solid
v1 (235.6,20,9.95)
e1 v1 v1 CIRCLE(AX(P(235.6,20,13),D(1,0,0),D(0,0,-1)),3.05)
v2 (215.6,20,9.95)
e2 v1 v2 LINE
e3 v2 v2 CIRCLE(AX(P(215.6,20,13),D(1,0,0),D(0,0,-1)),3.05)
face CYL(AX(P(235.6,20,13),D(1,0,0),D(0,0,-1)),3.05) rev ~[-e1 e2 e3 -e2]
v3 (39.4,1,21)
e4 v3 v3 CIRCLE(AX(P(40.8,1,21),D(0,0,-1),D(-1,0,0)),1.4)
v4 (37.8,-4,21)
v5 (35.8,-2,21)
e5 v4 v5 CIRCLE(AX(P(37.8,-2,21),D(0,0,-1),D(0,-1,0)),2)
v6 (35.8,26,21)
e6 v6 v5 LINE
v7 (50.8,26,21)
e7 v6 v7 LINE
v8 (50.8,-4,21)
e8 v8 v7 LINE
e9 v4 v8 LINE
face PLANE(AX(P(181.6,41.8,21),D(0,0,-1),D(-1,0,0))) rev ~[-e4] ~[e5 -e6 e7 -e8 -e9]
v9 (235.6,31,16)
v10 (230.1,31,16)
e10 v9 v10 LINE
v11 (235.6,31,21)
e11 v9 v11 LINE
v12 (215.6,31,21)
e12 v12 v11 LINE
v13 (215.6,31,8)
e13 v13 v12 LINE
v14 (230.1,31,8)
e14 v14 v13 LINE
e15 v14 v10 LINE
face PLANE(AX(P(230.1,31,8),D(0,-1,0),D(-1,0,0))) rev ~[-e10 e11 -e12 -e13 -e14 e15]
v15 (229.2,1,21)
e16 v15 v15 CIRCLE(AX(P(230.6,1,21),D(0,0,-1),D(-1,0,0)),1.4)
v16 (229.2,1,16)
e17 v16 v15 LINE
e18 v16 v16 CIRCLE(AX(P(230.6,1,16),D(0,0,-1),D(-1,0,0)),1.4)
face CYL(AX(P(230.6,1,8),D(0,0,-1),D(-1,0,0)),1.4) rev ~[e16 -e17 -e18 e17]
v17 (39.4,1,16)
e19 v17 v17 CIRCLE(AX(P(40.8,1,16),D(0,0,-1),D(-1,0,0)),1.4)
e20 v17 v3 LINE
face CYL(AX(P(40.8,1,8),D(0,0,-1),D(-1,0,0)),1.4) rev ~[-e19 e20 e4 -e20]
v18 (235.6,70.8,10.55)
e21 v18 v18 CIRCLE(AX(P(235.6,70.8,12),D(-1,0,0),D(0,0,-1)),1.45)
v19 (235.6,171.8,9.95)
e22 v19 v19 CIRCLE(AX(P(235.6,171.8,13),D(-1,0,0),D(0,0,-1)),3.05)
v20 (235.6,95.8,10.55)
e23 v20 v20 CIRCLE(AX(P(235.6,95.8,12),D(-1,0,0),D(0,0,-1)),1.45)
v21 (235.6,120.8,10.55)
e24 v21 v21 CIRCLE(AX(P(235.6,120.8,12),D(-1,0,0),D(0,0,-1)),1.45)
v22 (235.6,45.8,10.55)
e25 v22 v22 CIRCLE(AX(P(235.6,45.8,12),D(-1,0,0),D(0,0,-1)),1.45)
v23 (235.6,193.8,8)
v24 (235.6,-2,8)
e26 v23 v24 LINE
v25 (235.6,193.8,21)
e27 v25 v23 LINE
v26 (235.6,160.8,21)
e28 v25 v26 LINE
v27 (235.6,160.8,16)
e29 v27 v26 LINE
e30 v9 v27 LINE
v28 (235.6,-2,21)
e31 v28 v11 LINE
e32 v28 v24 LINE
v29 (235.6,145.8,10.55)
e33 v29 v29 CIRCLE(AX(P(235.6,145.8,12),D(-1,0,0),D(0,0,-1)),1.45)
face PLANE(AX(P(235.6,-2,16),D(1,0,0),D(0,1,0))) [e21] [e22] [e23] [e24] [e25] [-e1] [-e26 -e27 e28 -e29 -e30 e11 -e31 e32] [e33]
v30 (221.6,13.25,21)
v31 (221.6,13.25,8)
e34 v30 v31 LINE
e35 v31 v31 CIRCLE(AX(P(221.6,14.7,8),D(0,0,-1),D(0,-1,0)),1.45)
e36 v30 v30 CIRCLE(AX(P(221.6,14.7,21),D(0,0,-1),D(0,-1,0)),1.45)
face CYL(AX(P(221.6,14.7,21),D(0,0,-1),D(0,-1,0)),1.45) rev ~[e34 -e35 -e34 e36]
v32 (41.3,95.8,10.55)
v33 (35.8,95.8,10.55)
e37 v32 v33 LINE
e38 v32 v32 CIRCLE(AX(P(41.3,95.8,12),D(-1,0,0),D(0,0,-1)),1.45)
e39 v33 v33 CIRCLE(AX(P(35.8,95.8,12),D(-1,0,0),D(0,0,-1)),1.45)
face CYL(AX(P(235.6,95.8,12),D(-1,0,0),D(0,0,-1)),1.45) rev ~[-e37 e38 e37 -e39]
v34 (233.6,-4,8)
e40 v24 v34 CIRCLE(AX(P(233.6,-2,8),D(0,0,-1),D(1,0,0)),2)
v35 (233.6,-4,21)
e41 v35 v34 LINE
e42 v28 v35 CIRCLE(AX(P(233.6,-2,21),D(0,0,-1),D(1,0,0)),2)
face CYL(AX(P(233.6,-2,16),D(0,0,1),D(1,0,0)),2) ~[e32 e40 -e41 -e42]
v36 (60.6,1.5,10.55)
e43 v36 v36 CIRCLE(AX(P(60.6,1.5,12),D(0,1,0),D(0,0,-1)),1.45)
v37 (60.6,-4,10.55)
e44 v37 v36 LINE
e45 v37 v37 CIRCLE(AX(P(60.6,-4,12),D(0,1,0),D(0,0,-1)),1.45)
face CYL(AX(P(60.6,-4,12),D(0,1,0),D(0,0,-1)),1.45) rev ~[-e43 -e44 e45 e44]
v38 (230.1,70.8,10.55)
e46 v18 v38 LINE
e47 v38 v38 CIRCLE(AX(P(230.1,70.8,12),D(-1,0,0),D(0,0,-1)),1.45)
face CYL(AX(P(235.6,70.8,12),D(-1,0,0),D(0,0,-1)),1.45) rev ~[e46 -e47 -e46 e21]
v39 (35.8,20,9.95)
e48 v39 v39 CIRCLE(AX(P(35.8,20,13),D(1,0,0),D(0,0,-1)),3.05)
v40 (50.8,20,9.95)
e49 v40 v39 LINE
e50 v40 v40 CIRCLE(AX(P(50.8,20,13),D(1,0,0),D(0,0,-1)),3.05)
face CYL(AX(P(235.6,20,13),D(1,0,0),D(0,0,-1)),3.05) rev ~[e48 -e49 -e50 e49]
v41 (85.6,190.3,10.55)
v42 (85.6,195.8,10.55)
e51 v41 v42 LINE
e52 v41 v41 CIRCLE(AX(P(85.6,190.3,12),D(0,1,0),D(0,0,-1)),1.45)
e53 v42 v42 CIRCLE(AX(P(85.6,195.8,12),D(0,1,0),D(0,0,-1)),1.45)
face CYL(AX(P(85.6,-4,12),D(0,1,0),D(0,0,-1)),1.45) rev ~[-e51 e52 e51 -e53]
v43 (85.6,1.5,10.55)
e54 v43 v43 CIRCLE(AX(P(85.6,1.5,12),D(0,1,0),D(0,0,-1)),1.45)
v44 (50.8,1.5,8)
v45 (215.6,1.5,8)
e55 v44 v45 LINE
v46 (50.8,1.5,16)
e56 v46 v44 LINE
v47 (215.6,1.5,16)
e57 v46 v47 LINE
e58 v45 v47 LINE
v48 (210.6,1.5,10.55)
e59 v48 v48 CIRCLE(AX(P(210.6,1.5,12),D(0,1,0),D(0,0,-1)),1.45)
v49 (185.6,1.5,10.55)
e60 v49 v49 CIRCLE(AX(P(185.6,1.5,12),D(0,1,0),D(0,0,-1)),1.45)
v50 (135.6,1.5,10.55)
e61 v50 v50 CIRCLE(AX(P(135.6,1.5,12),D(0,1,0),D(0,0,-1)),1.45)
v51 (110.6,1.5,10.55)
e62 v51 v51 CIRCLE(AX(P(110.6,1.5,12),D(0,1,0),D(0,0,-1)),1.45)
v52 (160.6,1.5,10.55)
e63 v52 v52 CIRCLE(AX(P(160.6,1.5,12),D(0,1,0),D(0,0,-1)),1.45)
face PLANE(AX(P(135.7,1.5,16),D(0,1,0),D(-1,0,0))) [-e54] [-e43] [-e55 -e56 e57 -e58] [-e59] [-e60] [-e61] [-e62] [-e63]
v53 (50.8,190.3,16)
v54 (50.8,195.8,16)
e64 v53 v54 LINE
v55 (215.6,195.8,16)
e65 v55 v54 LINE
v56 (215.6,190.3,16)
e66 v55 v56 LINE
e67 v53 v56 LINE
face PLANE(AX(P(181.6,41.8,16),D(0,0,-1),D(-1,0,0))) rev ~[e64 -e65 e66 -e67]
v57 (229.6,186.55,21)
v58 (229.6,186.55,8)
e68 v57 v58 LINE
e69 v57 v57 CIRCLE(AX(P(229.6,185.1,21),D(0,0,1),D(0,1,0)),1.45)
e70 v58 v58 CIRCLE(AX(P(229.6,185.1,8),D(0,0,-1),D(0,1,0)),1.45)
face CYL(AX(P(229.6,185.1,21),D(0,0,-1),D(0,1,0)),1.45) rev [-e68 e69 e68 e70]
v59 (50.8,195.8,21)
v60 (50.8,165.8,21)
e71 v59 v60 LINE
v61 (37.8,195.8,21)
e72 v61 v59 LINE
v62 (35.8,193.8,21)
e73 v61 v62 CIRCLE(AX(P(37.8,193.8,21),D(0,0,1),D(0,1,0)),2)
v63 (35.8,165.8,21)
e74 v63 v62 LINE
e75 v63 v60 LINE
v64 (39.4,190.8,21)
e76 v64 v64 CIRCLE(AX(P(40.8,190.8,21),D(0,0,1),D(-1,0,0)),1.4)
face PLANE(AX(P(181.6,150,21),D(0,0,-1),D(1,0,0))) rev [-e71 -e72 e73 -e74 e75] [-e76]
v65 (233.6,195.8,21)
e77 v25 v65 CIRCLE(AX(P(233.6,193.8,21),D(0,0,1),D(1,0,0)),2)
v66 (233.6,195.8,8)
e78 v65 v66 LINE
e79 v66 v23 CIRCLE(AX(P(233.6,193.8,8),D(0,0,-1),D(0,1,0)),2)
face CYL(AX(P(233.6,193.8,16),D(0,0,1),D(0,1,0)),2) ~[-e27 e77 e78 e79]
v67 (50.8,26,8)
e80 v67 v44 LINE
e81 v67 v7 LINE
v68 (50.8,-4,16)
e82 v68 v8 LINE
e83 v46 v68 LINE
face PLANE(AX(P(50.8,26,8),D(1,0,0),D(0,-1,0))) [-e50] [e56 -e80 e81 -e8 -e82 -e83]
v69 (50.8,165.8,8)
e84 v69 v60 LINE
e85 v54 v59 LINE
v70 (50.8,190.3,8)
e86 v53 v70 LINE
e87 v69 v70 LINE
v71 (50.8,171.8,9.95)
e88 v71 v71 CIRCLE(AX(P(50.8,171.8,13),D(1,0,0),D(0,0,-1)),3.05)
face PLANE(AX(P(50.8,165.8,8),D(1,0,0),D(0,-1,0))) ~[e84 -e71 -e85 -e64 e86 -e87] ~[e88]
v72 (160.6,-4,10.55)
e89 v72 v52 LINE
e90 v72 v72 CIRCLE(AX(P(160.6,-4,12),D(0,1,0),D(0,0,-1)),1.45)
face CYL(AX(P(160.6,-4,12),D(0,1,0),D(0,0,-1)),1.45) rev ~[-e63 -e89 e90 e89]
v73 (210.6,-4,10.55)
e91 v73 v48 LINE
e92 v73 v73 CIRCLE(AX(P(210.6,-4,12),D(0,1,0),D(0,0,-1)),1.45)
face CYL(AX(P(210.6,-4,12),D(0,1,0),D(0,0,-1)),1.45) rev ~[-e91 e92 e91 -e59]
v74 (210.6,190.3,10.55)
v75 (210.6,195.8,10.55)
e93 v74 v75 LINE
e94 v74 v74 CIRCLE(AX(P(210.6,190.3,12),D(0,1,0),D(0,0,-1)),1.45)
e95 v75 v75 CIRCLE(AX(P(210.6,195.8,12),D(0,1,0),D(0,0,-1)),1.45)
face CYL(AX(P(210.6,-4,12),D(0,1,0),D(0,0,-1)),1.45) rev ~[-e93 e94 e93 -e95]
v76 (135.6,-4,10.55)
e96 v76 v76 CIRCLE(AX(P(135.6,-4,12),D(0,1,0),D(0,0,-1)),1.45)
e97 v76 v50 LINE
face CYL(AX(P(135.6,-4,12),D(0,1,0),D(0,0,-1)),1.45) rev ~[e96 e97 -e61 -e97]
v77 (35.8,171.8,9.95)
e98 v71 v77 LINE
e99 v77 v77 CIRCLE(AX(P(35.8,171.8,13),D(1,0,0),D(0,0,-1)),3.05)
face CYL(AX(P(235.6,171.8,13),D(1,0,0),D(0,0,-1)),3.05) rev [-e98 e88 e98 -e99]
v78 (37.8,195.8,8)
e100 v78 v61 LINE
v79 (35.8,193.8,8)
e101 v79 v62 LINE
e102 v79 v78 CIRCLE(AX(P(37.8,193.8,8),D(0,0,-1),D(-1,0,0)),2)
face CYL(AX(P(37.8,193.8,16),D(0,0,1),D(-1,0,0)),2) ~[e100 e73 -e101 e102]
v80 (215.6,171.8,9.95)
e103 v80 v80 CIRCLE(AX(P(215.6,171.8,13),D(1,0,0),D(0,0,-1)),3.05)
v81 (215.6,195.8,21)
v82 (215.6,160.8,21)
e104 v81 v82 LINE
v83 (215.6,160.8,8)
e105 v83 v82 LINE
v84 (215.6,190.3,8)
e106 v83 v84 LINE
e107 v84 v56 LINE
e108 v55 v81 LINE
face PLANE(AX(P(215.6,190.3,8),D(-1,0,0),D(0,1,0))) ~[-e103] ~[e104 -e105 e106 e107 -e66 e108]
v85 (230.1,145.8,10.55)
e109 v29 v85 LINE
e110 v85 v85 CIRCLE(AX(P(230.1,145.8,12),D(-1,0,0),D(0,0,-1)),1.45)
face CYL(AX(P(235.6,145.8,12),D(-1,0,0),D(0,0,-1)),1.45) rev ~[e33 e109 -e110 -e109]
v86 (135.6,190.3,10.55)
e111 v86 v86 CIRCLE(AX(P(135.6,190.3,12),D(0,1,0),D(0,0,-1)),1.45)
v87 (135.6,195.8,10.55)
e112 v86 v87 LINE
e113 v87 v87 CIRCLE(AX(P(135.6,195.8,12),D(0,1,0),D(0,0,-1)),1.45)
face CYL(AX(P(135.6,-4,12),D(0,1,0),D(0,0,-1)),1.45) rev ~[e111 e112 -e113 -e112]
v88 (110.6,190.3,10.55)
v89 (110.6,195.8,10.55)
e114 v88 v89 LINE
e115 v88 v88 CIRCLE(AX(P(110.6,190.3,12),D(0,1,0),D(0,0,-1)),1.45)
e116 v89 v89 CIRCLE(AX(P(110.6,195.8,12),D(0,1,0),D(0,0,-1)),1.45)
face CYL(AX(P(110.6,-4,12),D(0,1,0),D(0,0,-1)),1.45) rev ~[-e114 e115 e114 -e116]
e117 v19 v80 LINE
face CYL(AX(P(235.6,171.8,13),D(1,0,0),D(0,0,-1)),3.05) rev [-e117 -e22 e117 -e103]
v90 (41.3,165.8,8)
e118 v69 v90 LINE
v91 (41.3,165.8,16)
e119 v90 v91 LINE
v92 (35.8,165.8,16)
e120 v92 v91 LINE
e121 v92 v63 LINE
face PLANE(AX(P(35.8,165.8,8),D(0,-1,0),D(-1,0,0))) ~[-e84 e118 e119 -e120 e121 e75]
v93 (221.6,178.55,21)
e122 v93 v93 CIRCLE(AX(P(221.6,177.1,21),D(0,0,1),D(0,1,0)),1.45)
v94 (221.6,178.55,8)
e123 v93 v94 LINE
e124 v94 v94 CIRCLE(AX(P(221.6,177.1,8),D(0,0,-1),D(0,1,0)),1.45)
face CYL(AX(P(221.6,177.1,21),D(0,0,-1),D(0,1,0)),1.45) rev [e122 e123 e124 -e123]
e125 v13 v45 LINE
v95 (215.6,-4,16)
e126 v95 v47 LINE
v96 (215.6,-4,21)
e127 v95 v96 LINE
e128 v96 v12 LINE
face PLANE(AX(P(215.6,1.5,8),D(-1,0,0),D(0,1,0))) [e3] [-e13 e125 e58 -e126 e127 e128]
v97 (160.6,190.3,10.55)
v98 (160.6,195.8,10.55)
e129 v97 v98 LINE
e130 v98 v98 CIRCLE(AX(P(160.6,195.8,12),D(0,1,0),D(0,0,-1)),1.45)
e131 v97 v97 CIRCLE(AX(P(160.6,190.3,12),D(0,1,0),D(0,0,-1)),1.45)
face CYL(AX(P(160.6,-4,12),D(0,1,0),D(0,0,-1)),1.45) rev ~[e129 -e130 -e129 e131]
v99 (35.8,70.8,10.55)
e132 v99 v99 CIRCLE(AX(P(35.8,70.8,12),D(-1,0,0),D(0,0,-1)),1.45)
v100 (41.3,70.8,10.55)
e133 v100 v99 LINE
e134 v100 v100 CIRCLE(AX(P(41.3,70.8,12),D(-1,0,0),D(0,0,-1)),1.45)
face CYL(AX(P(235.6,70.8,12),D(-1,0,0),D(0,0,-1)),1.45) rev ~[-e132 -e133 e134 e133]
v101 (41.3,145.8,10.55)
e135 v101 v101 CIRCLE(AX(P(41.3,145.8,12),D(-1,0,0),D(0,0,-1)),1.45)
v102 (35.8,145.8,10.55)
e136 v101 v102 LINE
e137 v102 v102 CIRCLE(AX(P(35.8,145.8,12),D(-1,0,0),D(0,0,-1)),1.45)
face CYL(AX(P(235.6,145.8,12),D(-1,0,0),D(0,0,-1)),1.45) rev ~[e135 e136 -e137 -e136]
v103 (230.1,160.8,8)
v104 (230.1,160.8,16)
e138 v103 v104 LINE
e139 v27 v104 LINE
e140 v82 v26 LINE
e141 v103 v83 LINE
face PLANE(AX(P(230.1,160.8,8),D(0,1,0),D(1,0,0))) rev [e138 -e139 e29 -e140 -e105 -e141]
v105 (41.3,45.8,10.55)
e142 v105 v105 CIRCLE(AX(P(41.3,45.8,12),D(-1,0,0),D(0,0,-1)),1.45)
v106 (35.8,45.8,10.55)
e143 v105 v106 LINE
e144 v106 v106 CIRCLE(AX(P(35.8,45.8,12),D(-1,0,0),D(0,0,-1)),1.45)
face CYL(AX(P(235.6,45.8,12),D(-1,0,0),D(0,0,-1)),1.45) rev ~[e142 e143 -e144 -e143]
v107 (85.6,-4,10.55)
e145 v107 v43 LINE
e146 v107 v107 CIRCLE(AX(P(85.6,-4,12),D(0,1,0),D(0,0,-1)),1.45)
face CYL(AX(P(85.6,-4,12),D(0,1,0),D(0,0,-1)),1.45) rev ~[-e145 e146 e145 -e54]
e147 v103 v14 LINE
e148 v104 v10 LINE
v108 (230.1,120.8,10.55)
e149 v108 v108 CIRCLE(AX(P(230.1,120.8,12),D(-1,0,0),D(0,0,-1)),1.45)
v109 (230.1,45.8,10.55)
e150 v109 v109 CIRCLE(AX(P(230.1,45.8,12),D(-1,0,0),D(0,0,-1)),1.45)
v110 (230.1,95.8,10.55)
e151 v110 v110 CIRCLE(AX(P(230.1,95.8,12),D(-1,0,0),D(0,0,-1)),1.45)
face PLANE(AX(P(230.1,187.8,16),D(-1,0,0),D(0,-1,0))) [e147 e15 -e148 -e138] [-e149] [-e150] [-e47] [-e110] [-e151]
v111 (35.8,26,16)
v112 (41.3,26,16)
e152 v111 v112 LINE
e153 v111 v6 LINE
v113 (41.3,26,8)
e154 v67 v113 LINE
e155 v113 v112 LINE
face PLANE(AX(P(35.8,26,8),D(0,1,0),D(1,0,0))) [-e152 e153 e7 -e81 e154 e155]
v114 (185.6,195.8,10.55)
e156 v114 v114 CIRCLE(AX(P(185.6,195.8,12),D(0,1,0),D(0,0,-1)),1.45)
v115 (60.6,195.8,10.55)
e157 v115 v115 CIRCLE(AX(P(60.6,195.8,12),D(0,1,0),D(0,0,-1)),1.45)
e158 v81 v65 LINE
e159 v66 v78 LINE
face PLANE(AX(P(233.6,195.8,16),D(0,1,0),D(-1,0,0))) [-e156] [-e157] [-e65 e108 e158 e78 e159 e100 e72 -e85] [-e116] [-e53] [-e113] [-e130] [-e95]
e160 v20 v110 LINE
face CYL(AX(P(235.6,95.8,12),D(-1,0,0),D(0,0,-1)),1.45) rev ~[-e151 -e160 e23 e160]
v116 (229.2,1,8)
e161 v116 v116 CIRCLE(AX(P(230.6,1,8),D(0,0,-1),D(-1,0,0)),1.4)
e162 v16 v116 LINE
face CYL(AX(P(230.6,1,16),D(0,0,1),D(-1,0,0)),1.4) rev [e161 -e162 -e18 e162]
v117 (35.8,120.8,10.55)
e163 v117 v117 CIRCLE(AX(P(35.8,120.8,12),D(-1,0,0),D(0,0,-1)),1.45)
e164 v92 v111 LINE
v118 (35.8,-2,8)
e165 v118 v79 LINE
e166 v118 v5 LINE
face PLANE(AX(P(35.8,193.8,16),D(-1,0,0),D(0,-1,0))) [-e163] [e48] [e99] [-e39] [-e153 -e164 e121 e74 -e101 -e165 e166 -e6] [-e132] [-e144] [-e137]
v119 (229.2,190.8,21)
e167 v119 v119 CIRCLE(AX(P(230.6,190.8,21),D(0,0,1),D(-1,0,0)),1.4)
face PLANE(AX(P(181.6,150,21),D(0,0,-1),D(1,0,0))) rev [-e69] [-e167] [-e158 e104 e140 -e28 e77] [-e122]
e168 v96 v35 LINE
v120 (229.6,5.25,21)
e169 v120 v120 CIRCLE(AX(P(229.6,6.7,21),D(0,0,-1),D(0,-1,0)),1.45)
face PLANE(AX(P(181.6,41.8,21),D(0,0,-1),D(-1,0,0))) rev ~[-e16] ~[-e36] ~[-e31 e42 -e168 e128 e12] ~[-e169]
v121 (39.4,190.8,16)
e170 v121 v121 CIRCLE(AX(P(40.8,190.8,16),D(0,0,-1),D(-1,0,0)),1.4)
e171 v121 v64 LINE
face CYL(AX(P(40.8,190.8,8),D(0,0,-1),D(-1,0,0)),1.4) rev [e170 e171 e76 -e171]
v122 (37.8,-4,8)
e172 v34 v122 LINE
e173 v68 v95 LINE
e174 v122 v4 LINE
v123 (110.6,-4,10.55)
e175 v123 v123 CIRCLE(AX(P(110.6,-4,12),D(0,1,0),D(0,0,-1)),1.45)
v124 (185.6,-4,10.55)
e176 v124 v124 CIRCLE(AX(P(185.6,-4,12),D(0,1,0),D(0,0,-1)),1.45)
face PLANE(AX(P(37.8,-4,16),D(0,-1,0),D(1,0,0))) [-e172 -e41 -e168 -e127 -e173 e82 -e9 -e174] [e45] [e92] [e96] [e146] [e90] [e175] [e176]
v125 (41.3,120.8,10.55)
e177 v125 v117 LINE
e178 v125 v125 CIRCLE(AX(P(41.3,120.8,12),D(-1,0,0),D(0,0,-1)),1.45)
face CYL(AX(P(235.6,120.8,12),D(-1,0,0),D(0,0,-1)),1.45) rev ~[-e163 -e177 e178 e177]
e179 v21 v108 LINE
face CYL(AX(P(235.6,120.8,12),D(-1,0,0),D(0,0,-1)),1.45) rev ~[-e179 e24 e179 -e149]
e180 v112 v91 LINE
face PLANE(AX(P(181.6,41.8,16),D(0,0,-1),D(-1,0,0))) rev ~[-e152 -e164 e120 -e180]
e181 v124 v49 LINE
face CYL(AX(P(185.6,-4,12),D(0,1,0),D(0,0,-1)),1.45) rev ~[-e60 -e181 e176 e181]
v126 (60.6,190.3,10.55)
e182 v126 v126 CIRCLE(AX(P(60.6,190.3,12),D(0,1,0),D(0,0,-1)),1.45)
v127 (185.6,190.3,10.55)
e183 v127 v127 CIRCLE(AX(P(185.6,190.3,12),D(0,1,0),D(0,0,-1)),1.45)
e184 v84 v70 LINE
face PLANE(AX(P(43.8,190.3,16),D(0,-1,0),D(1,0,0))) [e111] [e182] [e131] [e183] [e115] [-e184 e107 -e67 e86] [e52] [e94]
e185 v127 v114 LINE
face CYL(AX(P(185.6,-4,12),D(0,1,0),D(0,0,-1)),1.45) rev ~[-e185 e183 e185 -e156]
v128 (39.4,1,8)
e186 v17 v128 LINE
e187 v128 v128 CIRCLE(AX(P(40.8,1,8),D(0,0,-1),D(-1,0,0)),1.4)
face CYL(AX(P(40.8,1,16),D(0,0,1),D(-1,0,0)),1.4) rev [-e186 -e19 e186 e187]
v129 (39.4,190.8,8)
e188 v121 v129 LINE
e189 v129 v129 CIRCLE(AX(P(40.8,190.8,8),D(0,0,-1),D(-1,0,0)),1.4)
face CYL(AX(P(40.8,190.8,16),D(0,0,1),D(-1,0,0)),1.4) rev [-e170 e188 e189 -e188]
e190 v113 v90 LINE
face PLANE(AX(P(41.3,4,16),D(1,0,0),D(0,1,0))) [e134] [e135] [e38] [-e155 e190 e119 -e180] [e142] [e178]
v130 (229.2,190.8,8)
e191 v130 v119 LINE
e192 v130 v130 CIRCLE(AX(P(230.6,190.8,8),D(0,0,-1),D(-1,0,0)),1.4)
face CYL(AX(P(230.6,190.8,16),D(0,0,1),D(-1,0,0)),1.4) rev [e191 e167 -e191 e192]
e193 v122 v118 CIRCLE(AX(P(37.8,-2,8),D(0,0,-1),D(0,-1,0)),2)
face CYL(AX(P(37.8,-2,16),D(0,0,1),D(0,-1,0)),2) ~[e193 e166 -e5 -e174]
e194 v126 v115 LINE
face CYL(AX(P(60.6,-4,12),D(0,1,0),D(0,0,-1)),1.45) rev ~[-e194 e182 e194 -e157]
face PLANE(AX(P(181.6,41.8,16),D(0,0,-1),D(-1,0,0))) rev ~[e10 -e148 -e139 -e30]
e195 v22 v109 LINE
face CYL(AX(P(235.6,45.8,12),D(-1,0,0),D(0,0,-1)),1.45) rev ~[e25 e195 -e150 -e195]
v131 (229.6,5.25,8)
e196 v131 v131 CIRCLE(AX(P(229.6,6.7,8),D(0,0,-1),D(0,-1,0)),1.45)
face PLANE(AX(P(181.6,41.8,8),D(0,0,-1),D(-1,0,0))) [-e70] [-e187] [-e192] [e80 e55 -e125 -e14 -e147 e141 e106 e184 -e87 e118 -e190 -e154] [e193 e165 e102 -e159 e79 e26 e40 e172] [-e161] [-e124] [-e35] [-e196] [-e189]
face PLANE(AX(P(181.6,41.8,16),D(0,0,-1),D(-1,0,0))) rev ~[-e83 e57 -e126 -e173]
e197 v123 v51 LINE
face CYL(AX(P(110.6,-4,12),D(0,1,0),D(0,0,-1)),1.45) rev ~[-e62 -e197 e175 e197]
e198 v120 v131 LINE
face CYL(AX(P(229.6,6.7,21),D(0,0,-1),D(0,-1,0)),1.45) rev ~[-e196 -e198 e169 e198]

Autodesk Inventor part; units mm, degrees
ref_plane "YZ Plane" through (0, 0, 0) normal (1, 0, 0) x (0, 1, 0)
ref_plane "XZ Plane" through (0, 0, 0) normal (0, 1, 0) x (-1, 0, 0)
ref_plane "XY Plane" through (0, 0, 0) normal (0, 0, 1) x (1, 0, 0)
ref_plane "Work Plane1" through (181.6, 41.8, 16) normal (0, 0, -1) x (-1, 0, 0)
sketch "Sketch1" plane through (181.6, 41.8, 16) normal (0, 0, -1) x (-1, 0, 0)
  circle A0 centre (0.9, -0.9) radius 1.45 construction
  line L0 (4, -1.5) -> (1.5, -4) construction
  line L1 (4, -1.5) -> (4, 4) construction
  line L2 (4, 4) -> (-2, 4) construction
  arc A1 (-2, 4) -> (-4, 2) centre (-2, 2) ccw construction
  line L3 (-4, 2) -> (-4, -4) construction
  line L4 (-4, -4) -> (1.5, -4) construction
  arc A2 (45.8, 2) -> (43.8, 4) centre (43.8, 2) ccw construction
  line L5 (43.8, 4) -> (37.8, 4) construction
  line L6 (37.8, 4) -> (37.8, -1.5) construction
  line L7 (40.3, -4) -> (45.8, -4) construction
  line L8 (45.8, -4) -> (45.8, 2) construction
  circle A3 centre (40.9, -0.9) radius 1.45 construction
  line L9 (37.8, -40.3) -> (40.3, -37.8) construction
  line L10 (37.8, -40.3) -> (37.8, -45.8) construction
  line L11 (37.8, -45.8) -> (43.8, -45.8) construction
  arc A4 (43.8, -45.8) -> (45.8, -43.8) centre (43.8, -43.8) ccw construction
  line L12 (45.8, -43.8) -> (45.8, -37.8) construction
  line L13 (45.8, -37.8) -> (40.3, -37.8) construction
  circle A5 centre (40.9, -40.9) radius 1.45 construction
  circle A6 centre (0.9, -40.9) radius 1.45 construction
  line L14 (1.5, -37.8) -> (4, -40.3) construction
  line L15 (1.5, -37.8) -> (-4, -37.8) construction
  line L16 (-4, -37.8) -> (-4, -43.8) construction
  arc A7 (-4, -43.8) -> (-2, -45.8) centre (-2, -43.8) ccw construction
  line L17 (-2, -45.8) -> (4, -45.8) construction
  line L18 (4, -45.8) -> (4, -40.3) construction
  line L19 (40.3, -4) -> (37.8, -1.5) construction
  line L20 (-52, 154) -> (143.8, 154)
  line L21 (145.8, 152) -> (145.8, -43.8)
  line L22 (143.8, -45.8) -> (-52, -45.8)
  line L23 (-54, -43.8) -> (-54, 152)
  line L24 (140.3, -37.8) -> (140.3, 146)
  line L25 (137.8, 148.5) -> (-46, 148.5)
  line L26 (-48.5, 146) -> (-48.5, -37.8)
  line L27 (-46, -40.3) -> (137.8, -40.3)
  line L28 (137.8, -40.3) -> (140.3, -37.8)
  line L29 (-46, -40.3) -> (-48.5, -37.8)
  line L30 (-46, 148.5) -> (-48.5, 146)
  line L31 (140.3, 146) -> (137.8, 148.5)
  arc A8 (145.8, 152) -> (143.8, 154) centre (143.8, 152) ccw
  arc A9 (143.8, -45.8) -> (145.8, -43.8) centre (143.8, -43.8) ccw
  arc A10 (-54, -43.8) -> (-52, -45.8) centre (-52, -43.8) ccw
  arc A11 (-52, 154) -> (-54, 152) centre (-52, 152) ccw
  circle A12 centre (140.8, -40.8) radius 1.4
  circle A13 centre (-49, -40.8) radius 1.4
  circle A14 centre (45.9, 54.1) radius 94.4 construction
  line L32 (45.9, 148.5) -> (45.9, -40.3)
  line L33 (77.4, 111.7) -> (64.2, 111.7) construction
  line L34 (64.2, 96.7) -> (77.4, 96.7) construction
  line L35 (77.4, 61.7) -> (64.2, 61.7) construction
  line L36 (64.2, 46.7) -> (77.4, 46.7) construction
  circle A15 centre (140.8, 149) radius 1.4
  circle A16 centre (-49, 149) radius 1.4
  point P0 (145.8, -45.8)
  point P1 (145.8, 154)
  point P2 (-54, -45.8)
  point P3 (140.3, -40.3)
  point P4 (140.3, 148.5)
  point P5 (-48.5, 148.5)
  point P6 (-48.5, -40.3)
  point P7 (40.8, 149)
  point P8 (45.8, -40.8)
  point P9 (70.9, 96)
  dimension "d34" = 199.8
  dimension "d35" = 199.8
  dimension "d36" = 5.5
  dimension "d37" = 2.5
  dimension "d38" = 2.5
  dimension "d39" = 2.5
  dimension "d40" = 2.5
  dimension "d41" = 2.5
  dimension "d42" = 2.5
  dimension "d43" = 2.5
  dimension "d44" = 2.5
  dimension "d45" = 2
  dimension "d46" = 5
  dimension "d47" = 5
  dimension "d48" = 5
  dimension "d49" = 5
  dimension "d51" = 5
  dimension "d57" = 2.8
  dimension "d58" = 2.8
  dimension "d255" = 2.8
  dimension "d256" = 5
  dimension "d257" = 5
  dimension "d308" = 2.8
  dimension "d309" = 5
  dimension "d310" = 5
extrude "Extrusion1" add sketch "Sketch1" along normal blind 8
sketch "Sketch56" plane through (181.6, 41.8, 8) normal (0, 0, -1) x (-1, 0, 0)
  line L0 (137.8, 148.5) -> (140.3, 146) projected
  line L1 (140.3, 146) -> (140.3, -37.8) construction
  line L2 (140.3, -37.8) -> (137.8, -40.3) projected
  line L3 (137.8, -40.3) -> (-46, -40.3) projected
  line L4 (-46, -40.3) -> (-48.5, -37.8) projected
  line L5 (-48.5, -37.8) -> (-48.5, 146) projected
  line L6 (-48.5, 146) -> (-46, 148.5) projected
  line L7 (-46, 148.5) -> (137.8, 148.5) projected
  line L8 (145.8, 152) -> (145.8, -43.8) projected
  arc A0 (143.8, -45.8) -> (145.8, -43.8) centre (143.8, -43.8) ccw projected
  line L9 (143.8, -45.8) -> (-52, -45.8) projected
  arc A1 (-54, -43.8) -> (-52, -45.8) centre (-52, -43.8) ccw projected
  line L10 (-54, -43.8) -> (-54, 152) projected
  arc A2 (-52, 154) -> (-54, 152) centre (-52, 152) ccw projected
  line L11 (-52, 154) -> (143.8, 154) projected
  arc A3 (145.8, 152) -> (143.8, 154) centre (143.8, 152) ccw projected
  circle A4 centre (140.8, -40.8) radius 1.4 projected
  circle A5 centre (-49, -40.8) radius 1.4 projected
  circle A6 centre (140.8, 149) radius 1.4 projected
  circle A7 centre (-49, 149) radius 1.4 projected
  line L12 (137.8, 148.5) -> (-46, 148.5) projected
  line L13 (-46, 148.5) -> (-48.5, 146) projected
  line L14 (-48.5, 146) -> (-48.5, -37.8) projected
  line L15 (-48.5, -37.8) -> (-46, -40.3) projected
  line L16 (-46, -40.3) -> (137.8, -40.3) projected
  line L17 (137.8, -40.3) -> (140.3, -37.8) projected
  line L18 (140.3, -37.8) -> (140.3, 146) projected
  line L19 (140.3, 146) -> (137.8, 148.5) projected
  line L20 (145.8, -45.8) -> (125.8, -45.8) construction
  line L21 (125.8, -45.8) -> (125.8, -15.8) construction
  line L22 (125.8, -15.8) -> (145.8, -15.8) construction
  line L23 (145.8, -15.8) -> (145.8, -45.8) construction
  line L24 (-54, -45.8) -> (-34, -45.8) construction
  line L25 (-34, -45.8) -> (-34, -10.8) construction
  line L26 (-34, -10.8) -> (-54, -10.8) construction
  line L27 (-54, -10.8) -> (-54, -45.8) construction
  line L28 (145.8, -15.8) -> (130.8, -15.8)
  line L29 (130.8, -15.8) -> (130.8, -45.8)
  line L30 (-54, -10.8) -> (-34, -10.8)
  line L31 (-34, -45.8) -> (-34, -10.8)
  line L32 (145.8, -15.8) -> (145.8, -43.8)
  line L33 (143.8, -45.8) -> (130.8, -45.8)
  line L34 (-54, -10.8) -> (-54, -43.8)
  line L35 (-34, -45.8) -> (-52, -45.8)
  point P0 (181.6, -41.8)
  dimension "d373" = 20
  dimension "d374" = 30
  dimension "d375" = 20
  dimension "d376" = 35
  dimension "d377" = 15
extrude "Extrusion35" add sketch "Sketch56" against normal blind 13 contours L28 L8 A0 L9 L29 L3 L2 L18 | L18 L2 L3 L29 L28 | L30 L31 L3 L4 L5 | L5 L4 L3 L31 L9 A1 L10 L30
sketch "Sketch57" plane through (235.6, -2, 16) normal (1, 0, 0) x (0, 0, -1)
  circle A0 centre (3, 22) radius 3.05
  line L0 (8, 195.8) -> (8, 0) projected
  line L1 (0, 195.8) -> (8, 195.8) projected
  line L2 (0, 33) -> (0, 195.8) projected
  line L3 (0, 33) -> (-5, 33) projected
  line L4 (-5, 0) -> (-5, 33) projected
  line L5 (8, 0) -> (-5, 0) projected
  line L6 (8, -2) -> (-5, -2) projected
  point P0 (16, 2)
  dimension "d379" = 5
  dimension "d380" = 24
extrude "Extrusion36" cut sketch "Sketch57" against normal through all contours A0
sketch "Sketch59" plane through (181.6, 41.8, 21) normal (0, 0, 1) x (1, 0, 0)
  circle A0 centre (40, -27.1) radius 3.5
  line L0 (54, -43.8) -> (54, -10.8) projected
  line L1 (-170.0796, -30.6) -> (49.9204, -30.6) construction
  line L2 (-170.0796, -30.6) -> (49.9204, -30.6) construction
  arc A1 (-171.5, -32.6) -> (-168.5, -32.6) centre (-170, -34.6) ccw
  circle A2 centre (-170, -34.6) radius 4
  circle A3 centre (48, -35.1) radius 3.5
  line L3 (-170, -38.6) -> (63.6932, -38.6) construction
  line L4 (-170, -38.6) -> (63.6932, -38.6) construction
  point P0 (-181.6, -41.8)
  dimension "d385" = 8
  dimension "d378" = 7
  dimension "d381" = 14
  dimension "d383" = 220
  dimension "d384" = 0
  dimension "d386" = 4
  dimension "d387" = 7
  dimension "d388" = 8
  dimension "d389" = 8
  dimension "d397" = 0
hole "Hole12" at (229.6, 6.7, 21) at (221.6, 14.7, 21) direction (0, 0, -1) diameter 2.9 end through all
sketch "Sketch60" plane through (37.8, -4, 16) normal (0, 1, 0) x (1, 0, 0)
  line L0 (6, 0) -> (189.8, 0) projected
  line L1 (6, 0) -> (6, 8) projected
  line L2 (189.8, 8) -> (6, 8) projected
  line L3 (189.8, 0) -> (189.8, 8) projected
  circle A0 centre (172.8, 4) radius 1.45
  circle A1 centre (43.1531, 4) radius 1.45
  line L4 (197.8, 0) -> (197.8, 8) projected
  circle A2 centre (147.8, 4) radius 1.45
  circle A3 centre (122.8, 4) radius 1.45
  circle A4 centre (97.8, 4) radius 1.45
  circle A5 centre (72.8, 4) radius 1.45
  circle A6 centre (47.8, 4) radius 1.45
  circle A7 centre (22.8, 4) radius 1.45
  point P0 (-37.8, 16)
  dimension "d398" = 2.9
  dimension "d399" = 2.9
  dimension "d400" = 25
  dimension "d401" = 4
  dimension "d404" = 25
hole "Hole13" at (210.6, -4, 12) at (185.6, -4, 12) at (160.6, -4, 12) at (135.6, -4, 12) at (110.6, -4, 12) at (85.6, -4, 12) at (60.6, -4, 12) direction (0, 1, 0) diameter 2.9 end through all
sketch "Sketch61" plane through (235.6, -2, 8) normal (1, 0, 0) x (0, 0, -1)
  line L0 (0, 195.8) -> (0, 0) projected
  line L1 (0, 33) -> (-8, 33) projected
  line L2 (-8, 189.8) -> (-8, 33) projected
  line L3 (-8, 189.8) -> (0, 189.8) projected
  line L4 (0, 33) -> (0, 189.8) projected
  circle A0 centre (-4, 172.8) radius 1.45
  line L5 (-8, 197.8) -> (0, 197.8) projected
  circle A1 centre (-4, 147.8) radius 1.45
  circle A2 centre (-4, 122.8) radius 1.45
  circle A3 centre (-4, 97.8) radius 1.45
  circle A4 centre (-4, 72.8) radius 1.45
  circle A5 centre (-4, 47.8) radius 1.45
  point P0 (8, 2)
  dimension "d416" = 2.9
  dimension "d417" = 25
  dimension "d420" = 25
hole "Hole14" at (235.6, 45.8, 12) at (235.6, 70.8, 12) at (235.6, 95.8, 12) at (235.6, 120.8, 12) at (235.6, 145.8, 12) at (235.6, 170.8, 12) direction (-1, 0, 0) diameter 2.9 end through all
ref_plane "Work Plane15" through (50.8, 95.9, 16) normal (0, 1, 0) x (1, 0, 0)
mirror "Mirror3" about plane through (50.8, 95.9, 16) normal (0, 1, 0) of "Extrusion35", "Extrusion36", "Hole12"
equation "\"d38\" = d37"
equation "\"d39\" = d37"
equation "\"d40\" = d39"
equation "\"d41\" = d37"
equation "\"d42\" = d41"
equation "\"d43\" = d37"
equation "\"d44\" = d43"
properties part number "30_CUBE_openSIM_base_v3"
